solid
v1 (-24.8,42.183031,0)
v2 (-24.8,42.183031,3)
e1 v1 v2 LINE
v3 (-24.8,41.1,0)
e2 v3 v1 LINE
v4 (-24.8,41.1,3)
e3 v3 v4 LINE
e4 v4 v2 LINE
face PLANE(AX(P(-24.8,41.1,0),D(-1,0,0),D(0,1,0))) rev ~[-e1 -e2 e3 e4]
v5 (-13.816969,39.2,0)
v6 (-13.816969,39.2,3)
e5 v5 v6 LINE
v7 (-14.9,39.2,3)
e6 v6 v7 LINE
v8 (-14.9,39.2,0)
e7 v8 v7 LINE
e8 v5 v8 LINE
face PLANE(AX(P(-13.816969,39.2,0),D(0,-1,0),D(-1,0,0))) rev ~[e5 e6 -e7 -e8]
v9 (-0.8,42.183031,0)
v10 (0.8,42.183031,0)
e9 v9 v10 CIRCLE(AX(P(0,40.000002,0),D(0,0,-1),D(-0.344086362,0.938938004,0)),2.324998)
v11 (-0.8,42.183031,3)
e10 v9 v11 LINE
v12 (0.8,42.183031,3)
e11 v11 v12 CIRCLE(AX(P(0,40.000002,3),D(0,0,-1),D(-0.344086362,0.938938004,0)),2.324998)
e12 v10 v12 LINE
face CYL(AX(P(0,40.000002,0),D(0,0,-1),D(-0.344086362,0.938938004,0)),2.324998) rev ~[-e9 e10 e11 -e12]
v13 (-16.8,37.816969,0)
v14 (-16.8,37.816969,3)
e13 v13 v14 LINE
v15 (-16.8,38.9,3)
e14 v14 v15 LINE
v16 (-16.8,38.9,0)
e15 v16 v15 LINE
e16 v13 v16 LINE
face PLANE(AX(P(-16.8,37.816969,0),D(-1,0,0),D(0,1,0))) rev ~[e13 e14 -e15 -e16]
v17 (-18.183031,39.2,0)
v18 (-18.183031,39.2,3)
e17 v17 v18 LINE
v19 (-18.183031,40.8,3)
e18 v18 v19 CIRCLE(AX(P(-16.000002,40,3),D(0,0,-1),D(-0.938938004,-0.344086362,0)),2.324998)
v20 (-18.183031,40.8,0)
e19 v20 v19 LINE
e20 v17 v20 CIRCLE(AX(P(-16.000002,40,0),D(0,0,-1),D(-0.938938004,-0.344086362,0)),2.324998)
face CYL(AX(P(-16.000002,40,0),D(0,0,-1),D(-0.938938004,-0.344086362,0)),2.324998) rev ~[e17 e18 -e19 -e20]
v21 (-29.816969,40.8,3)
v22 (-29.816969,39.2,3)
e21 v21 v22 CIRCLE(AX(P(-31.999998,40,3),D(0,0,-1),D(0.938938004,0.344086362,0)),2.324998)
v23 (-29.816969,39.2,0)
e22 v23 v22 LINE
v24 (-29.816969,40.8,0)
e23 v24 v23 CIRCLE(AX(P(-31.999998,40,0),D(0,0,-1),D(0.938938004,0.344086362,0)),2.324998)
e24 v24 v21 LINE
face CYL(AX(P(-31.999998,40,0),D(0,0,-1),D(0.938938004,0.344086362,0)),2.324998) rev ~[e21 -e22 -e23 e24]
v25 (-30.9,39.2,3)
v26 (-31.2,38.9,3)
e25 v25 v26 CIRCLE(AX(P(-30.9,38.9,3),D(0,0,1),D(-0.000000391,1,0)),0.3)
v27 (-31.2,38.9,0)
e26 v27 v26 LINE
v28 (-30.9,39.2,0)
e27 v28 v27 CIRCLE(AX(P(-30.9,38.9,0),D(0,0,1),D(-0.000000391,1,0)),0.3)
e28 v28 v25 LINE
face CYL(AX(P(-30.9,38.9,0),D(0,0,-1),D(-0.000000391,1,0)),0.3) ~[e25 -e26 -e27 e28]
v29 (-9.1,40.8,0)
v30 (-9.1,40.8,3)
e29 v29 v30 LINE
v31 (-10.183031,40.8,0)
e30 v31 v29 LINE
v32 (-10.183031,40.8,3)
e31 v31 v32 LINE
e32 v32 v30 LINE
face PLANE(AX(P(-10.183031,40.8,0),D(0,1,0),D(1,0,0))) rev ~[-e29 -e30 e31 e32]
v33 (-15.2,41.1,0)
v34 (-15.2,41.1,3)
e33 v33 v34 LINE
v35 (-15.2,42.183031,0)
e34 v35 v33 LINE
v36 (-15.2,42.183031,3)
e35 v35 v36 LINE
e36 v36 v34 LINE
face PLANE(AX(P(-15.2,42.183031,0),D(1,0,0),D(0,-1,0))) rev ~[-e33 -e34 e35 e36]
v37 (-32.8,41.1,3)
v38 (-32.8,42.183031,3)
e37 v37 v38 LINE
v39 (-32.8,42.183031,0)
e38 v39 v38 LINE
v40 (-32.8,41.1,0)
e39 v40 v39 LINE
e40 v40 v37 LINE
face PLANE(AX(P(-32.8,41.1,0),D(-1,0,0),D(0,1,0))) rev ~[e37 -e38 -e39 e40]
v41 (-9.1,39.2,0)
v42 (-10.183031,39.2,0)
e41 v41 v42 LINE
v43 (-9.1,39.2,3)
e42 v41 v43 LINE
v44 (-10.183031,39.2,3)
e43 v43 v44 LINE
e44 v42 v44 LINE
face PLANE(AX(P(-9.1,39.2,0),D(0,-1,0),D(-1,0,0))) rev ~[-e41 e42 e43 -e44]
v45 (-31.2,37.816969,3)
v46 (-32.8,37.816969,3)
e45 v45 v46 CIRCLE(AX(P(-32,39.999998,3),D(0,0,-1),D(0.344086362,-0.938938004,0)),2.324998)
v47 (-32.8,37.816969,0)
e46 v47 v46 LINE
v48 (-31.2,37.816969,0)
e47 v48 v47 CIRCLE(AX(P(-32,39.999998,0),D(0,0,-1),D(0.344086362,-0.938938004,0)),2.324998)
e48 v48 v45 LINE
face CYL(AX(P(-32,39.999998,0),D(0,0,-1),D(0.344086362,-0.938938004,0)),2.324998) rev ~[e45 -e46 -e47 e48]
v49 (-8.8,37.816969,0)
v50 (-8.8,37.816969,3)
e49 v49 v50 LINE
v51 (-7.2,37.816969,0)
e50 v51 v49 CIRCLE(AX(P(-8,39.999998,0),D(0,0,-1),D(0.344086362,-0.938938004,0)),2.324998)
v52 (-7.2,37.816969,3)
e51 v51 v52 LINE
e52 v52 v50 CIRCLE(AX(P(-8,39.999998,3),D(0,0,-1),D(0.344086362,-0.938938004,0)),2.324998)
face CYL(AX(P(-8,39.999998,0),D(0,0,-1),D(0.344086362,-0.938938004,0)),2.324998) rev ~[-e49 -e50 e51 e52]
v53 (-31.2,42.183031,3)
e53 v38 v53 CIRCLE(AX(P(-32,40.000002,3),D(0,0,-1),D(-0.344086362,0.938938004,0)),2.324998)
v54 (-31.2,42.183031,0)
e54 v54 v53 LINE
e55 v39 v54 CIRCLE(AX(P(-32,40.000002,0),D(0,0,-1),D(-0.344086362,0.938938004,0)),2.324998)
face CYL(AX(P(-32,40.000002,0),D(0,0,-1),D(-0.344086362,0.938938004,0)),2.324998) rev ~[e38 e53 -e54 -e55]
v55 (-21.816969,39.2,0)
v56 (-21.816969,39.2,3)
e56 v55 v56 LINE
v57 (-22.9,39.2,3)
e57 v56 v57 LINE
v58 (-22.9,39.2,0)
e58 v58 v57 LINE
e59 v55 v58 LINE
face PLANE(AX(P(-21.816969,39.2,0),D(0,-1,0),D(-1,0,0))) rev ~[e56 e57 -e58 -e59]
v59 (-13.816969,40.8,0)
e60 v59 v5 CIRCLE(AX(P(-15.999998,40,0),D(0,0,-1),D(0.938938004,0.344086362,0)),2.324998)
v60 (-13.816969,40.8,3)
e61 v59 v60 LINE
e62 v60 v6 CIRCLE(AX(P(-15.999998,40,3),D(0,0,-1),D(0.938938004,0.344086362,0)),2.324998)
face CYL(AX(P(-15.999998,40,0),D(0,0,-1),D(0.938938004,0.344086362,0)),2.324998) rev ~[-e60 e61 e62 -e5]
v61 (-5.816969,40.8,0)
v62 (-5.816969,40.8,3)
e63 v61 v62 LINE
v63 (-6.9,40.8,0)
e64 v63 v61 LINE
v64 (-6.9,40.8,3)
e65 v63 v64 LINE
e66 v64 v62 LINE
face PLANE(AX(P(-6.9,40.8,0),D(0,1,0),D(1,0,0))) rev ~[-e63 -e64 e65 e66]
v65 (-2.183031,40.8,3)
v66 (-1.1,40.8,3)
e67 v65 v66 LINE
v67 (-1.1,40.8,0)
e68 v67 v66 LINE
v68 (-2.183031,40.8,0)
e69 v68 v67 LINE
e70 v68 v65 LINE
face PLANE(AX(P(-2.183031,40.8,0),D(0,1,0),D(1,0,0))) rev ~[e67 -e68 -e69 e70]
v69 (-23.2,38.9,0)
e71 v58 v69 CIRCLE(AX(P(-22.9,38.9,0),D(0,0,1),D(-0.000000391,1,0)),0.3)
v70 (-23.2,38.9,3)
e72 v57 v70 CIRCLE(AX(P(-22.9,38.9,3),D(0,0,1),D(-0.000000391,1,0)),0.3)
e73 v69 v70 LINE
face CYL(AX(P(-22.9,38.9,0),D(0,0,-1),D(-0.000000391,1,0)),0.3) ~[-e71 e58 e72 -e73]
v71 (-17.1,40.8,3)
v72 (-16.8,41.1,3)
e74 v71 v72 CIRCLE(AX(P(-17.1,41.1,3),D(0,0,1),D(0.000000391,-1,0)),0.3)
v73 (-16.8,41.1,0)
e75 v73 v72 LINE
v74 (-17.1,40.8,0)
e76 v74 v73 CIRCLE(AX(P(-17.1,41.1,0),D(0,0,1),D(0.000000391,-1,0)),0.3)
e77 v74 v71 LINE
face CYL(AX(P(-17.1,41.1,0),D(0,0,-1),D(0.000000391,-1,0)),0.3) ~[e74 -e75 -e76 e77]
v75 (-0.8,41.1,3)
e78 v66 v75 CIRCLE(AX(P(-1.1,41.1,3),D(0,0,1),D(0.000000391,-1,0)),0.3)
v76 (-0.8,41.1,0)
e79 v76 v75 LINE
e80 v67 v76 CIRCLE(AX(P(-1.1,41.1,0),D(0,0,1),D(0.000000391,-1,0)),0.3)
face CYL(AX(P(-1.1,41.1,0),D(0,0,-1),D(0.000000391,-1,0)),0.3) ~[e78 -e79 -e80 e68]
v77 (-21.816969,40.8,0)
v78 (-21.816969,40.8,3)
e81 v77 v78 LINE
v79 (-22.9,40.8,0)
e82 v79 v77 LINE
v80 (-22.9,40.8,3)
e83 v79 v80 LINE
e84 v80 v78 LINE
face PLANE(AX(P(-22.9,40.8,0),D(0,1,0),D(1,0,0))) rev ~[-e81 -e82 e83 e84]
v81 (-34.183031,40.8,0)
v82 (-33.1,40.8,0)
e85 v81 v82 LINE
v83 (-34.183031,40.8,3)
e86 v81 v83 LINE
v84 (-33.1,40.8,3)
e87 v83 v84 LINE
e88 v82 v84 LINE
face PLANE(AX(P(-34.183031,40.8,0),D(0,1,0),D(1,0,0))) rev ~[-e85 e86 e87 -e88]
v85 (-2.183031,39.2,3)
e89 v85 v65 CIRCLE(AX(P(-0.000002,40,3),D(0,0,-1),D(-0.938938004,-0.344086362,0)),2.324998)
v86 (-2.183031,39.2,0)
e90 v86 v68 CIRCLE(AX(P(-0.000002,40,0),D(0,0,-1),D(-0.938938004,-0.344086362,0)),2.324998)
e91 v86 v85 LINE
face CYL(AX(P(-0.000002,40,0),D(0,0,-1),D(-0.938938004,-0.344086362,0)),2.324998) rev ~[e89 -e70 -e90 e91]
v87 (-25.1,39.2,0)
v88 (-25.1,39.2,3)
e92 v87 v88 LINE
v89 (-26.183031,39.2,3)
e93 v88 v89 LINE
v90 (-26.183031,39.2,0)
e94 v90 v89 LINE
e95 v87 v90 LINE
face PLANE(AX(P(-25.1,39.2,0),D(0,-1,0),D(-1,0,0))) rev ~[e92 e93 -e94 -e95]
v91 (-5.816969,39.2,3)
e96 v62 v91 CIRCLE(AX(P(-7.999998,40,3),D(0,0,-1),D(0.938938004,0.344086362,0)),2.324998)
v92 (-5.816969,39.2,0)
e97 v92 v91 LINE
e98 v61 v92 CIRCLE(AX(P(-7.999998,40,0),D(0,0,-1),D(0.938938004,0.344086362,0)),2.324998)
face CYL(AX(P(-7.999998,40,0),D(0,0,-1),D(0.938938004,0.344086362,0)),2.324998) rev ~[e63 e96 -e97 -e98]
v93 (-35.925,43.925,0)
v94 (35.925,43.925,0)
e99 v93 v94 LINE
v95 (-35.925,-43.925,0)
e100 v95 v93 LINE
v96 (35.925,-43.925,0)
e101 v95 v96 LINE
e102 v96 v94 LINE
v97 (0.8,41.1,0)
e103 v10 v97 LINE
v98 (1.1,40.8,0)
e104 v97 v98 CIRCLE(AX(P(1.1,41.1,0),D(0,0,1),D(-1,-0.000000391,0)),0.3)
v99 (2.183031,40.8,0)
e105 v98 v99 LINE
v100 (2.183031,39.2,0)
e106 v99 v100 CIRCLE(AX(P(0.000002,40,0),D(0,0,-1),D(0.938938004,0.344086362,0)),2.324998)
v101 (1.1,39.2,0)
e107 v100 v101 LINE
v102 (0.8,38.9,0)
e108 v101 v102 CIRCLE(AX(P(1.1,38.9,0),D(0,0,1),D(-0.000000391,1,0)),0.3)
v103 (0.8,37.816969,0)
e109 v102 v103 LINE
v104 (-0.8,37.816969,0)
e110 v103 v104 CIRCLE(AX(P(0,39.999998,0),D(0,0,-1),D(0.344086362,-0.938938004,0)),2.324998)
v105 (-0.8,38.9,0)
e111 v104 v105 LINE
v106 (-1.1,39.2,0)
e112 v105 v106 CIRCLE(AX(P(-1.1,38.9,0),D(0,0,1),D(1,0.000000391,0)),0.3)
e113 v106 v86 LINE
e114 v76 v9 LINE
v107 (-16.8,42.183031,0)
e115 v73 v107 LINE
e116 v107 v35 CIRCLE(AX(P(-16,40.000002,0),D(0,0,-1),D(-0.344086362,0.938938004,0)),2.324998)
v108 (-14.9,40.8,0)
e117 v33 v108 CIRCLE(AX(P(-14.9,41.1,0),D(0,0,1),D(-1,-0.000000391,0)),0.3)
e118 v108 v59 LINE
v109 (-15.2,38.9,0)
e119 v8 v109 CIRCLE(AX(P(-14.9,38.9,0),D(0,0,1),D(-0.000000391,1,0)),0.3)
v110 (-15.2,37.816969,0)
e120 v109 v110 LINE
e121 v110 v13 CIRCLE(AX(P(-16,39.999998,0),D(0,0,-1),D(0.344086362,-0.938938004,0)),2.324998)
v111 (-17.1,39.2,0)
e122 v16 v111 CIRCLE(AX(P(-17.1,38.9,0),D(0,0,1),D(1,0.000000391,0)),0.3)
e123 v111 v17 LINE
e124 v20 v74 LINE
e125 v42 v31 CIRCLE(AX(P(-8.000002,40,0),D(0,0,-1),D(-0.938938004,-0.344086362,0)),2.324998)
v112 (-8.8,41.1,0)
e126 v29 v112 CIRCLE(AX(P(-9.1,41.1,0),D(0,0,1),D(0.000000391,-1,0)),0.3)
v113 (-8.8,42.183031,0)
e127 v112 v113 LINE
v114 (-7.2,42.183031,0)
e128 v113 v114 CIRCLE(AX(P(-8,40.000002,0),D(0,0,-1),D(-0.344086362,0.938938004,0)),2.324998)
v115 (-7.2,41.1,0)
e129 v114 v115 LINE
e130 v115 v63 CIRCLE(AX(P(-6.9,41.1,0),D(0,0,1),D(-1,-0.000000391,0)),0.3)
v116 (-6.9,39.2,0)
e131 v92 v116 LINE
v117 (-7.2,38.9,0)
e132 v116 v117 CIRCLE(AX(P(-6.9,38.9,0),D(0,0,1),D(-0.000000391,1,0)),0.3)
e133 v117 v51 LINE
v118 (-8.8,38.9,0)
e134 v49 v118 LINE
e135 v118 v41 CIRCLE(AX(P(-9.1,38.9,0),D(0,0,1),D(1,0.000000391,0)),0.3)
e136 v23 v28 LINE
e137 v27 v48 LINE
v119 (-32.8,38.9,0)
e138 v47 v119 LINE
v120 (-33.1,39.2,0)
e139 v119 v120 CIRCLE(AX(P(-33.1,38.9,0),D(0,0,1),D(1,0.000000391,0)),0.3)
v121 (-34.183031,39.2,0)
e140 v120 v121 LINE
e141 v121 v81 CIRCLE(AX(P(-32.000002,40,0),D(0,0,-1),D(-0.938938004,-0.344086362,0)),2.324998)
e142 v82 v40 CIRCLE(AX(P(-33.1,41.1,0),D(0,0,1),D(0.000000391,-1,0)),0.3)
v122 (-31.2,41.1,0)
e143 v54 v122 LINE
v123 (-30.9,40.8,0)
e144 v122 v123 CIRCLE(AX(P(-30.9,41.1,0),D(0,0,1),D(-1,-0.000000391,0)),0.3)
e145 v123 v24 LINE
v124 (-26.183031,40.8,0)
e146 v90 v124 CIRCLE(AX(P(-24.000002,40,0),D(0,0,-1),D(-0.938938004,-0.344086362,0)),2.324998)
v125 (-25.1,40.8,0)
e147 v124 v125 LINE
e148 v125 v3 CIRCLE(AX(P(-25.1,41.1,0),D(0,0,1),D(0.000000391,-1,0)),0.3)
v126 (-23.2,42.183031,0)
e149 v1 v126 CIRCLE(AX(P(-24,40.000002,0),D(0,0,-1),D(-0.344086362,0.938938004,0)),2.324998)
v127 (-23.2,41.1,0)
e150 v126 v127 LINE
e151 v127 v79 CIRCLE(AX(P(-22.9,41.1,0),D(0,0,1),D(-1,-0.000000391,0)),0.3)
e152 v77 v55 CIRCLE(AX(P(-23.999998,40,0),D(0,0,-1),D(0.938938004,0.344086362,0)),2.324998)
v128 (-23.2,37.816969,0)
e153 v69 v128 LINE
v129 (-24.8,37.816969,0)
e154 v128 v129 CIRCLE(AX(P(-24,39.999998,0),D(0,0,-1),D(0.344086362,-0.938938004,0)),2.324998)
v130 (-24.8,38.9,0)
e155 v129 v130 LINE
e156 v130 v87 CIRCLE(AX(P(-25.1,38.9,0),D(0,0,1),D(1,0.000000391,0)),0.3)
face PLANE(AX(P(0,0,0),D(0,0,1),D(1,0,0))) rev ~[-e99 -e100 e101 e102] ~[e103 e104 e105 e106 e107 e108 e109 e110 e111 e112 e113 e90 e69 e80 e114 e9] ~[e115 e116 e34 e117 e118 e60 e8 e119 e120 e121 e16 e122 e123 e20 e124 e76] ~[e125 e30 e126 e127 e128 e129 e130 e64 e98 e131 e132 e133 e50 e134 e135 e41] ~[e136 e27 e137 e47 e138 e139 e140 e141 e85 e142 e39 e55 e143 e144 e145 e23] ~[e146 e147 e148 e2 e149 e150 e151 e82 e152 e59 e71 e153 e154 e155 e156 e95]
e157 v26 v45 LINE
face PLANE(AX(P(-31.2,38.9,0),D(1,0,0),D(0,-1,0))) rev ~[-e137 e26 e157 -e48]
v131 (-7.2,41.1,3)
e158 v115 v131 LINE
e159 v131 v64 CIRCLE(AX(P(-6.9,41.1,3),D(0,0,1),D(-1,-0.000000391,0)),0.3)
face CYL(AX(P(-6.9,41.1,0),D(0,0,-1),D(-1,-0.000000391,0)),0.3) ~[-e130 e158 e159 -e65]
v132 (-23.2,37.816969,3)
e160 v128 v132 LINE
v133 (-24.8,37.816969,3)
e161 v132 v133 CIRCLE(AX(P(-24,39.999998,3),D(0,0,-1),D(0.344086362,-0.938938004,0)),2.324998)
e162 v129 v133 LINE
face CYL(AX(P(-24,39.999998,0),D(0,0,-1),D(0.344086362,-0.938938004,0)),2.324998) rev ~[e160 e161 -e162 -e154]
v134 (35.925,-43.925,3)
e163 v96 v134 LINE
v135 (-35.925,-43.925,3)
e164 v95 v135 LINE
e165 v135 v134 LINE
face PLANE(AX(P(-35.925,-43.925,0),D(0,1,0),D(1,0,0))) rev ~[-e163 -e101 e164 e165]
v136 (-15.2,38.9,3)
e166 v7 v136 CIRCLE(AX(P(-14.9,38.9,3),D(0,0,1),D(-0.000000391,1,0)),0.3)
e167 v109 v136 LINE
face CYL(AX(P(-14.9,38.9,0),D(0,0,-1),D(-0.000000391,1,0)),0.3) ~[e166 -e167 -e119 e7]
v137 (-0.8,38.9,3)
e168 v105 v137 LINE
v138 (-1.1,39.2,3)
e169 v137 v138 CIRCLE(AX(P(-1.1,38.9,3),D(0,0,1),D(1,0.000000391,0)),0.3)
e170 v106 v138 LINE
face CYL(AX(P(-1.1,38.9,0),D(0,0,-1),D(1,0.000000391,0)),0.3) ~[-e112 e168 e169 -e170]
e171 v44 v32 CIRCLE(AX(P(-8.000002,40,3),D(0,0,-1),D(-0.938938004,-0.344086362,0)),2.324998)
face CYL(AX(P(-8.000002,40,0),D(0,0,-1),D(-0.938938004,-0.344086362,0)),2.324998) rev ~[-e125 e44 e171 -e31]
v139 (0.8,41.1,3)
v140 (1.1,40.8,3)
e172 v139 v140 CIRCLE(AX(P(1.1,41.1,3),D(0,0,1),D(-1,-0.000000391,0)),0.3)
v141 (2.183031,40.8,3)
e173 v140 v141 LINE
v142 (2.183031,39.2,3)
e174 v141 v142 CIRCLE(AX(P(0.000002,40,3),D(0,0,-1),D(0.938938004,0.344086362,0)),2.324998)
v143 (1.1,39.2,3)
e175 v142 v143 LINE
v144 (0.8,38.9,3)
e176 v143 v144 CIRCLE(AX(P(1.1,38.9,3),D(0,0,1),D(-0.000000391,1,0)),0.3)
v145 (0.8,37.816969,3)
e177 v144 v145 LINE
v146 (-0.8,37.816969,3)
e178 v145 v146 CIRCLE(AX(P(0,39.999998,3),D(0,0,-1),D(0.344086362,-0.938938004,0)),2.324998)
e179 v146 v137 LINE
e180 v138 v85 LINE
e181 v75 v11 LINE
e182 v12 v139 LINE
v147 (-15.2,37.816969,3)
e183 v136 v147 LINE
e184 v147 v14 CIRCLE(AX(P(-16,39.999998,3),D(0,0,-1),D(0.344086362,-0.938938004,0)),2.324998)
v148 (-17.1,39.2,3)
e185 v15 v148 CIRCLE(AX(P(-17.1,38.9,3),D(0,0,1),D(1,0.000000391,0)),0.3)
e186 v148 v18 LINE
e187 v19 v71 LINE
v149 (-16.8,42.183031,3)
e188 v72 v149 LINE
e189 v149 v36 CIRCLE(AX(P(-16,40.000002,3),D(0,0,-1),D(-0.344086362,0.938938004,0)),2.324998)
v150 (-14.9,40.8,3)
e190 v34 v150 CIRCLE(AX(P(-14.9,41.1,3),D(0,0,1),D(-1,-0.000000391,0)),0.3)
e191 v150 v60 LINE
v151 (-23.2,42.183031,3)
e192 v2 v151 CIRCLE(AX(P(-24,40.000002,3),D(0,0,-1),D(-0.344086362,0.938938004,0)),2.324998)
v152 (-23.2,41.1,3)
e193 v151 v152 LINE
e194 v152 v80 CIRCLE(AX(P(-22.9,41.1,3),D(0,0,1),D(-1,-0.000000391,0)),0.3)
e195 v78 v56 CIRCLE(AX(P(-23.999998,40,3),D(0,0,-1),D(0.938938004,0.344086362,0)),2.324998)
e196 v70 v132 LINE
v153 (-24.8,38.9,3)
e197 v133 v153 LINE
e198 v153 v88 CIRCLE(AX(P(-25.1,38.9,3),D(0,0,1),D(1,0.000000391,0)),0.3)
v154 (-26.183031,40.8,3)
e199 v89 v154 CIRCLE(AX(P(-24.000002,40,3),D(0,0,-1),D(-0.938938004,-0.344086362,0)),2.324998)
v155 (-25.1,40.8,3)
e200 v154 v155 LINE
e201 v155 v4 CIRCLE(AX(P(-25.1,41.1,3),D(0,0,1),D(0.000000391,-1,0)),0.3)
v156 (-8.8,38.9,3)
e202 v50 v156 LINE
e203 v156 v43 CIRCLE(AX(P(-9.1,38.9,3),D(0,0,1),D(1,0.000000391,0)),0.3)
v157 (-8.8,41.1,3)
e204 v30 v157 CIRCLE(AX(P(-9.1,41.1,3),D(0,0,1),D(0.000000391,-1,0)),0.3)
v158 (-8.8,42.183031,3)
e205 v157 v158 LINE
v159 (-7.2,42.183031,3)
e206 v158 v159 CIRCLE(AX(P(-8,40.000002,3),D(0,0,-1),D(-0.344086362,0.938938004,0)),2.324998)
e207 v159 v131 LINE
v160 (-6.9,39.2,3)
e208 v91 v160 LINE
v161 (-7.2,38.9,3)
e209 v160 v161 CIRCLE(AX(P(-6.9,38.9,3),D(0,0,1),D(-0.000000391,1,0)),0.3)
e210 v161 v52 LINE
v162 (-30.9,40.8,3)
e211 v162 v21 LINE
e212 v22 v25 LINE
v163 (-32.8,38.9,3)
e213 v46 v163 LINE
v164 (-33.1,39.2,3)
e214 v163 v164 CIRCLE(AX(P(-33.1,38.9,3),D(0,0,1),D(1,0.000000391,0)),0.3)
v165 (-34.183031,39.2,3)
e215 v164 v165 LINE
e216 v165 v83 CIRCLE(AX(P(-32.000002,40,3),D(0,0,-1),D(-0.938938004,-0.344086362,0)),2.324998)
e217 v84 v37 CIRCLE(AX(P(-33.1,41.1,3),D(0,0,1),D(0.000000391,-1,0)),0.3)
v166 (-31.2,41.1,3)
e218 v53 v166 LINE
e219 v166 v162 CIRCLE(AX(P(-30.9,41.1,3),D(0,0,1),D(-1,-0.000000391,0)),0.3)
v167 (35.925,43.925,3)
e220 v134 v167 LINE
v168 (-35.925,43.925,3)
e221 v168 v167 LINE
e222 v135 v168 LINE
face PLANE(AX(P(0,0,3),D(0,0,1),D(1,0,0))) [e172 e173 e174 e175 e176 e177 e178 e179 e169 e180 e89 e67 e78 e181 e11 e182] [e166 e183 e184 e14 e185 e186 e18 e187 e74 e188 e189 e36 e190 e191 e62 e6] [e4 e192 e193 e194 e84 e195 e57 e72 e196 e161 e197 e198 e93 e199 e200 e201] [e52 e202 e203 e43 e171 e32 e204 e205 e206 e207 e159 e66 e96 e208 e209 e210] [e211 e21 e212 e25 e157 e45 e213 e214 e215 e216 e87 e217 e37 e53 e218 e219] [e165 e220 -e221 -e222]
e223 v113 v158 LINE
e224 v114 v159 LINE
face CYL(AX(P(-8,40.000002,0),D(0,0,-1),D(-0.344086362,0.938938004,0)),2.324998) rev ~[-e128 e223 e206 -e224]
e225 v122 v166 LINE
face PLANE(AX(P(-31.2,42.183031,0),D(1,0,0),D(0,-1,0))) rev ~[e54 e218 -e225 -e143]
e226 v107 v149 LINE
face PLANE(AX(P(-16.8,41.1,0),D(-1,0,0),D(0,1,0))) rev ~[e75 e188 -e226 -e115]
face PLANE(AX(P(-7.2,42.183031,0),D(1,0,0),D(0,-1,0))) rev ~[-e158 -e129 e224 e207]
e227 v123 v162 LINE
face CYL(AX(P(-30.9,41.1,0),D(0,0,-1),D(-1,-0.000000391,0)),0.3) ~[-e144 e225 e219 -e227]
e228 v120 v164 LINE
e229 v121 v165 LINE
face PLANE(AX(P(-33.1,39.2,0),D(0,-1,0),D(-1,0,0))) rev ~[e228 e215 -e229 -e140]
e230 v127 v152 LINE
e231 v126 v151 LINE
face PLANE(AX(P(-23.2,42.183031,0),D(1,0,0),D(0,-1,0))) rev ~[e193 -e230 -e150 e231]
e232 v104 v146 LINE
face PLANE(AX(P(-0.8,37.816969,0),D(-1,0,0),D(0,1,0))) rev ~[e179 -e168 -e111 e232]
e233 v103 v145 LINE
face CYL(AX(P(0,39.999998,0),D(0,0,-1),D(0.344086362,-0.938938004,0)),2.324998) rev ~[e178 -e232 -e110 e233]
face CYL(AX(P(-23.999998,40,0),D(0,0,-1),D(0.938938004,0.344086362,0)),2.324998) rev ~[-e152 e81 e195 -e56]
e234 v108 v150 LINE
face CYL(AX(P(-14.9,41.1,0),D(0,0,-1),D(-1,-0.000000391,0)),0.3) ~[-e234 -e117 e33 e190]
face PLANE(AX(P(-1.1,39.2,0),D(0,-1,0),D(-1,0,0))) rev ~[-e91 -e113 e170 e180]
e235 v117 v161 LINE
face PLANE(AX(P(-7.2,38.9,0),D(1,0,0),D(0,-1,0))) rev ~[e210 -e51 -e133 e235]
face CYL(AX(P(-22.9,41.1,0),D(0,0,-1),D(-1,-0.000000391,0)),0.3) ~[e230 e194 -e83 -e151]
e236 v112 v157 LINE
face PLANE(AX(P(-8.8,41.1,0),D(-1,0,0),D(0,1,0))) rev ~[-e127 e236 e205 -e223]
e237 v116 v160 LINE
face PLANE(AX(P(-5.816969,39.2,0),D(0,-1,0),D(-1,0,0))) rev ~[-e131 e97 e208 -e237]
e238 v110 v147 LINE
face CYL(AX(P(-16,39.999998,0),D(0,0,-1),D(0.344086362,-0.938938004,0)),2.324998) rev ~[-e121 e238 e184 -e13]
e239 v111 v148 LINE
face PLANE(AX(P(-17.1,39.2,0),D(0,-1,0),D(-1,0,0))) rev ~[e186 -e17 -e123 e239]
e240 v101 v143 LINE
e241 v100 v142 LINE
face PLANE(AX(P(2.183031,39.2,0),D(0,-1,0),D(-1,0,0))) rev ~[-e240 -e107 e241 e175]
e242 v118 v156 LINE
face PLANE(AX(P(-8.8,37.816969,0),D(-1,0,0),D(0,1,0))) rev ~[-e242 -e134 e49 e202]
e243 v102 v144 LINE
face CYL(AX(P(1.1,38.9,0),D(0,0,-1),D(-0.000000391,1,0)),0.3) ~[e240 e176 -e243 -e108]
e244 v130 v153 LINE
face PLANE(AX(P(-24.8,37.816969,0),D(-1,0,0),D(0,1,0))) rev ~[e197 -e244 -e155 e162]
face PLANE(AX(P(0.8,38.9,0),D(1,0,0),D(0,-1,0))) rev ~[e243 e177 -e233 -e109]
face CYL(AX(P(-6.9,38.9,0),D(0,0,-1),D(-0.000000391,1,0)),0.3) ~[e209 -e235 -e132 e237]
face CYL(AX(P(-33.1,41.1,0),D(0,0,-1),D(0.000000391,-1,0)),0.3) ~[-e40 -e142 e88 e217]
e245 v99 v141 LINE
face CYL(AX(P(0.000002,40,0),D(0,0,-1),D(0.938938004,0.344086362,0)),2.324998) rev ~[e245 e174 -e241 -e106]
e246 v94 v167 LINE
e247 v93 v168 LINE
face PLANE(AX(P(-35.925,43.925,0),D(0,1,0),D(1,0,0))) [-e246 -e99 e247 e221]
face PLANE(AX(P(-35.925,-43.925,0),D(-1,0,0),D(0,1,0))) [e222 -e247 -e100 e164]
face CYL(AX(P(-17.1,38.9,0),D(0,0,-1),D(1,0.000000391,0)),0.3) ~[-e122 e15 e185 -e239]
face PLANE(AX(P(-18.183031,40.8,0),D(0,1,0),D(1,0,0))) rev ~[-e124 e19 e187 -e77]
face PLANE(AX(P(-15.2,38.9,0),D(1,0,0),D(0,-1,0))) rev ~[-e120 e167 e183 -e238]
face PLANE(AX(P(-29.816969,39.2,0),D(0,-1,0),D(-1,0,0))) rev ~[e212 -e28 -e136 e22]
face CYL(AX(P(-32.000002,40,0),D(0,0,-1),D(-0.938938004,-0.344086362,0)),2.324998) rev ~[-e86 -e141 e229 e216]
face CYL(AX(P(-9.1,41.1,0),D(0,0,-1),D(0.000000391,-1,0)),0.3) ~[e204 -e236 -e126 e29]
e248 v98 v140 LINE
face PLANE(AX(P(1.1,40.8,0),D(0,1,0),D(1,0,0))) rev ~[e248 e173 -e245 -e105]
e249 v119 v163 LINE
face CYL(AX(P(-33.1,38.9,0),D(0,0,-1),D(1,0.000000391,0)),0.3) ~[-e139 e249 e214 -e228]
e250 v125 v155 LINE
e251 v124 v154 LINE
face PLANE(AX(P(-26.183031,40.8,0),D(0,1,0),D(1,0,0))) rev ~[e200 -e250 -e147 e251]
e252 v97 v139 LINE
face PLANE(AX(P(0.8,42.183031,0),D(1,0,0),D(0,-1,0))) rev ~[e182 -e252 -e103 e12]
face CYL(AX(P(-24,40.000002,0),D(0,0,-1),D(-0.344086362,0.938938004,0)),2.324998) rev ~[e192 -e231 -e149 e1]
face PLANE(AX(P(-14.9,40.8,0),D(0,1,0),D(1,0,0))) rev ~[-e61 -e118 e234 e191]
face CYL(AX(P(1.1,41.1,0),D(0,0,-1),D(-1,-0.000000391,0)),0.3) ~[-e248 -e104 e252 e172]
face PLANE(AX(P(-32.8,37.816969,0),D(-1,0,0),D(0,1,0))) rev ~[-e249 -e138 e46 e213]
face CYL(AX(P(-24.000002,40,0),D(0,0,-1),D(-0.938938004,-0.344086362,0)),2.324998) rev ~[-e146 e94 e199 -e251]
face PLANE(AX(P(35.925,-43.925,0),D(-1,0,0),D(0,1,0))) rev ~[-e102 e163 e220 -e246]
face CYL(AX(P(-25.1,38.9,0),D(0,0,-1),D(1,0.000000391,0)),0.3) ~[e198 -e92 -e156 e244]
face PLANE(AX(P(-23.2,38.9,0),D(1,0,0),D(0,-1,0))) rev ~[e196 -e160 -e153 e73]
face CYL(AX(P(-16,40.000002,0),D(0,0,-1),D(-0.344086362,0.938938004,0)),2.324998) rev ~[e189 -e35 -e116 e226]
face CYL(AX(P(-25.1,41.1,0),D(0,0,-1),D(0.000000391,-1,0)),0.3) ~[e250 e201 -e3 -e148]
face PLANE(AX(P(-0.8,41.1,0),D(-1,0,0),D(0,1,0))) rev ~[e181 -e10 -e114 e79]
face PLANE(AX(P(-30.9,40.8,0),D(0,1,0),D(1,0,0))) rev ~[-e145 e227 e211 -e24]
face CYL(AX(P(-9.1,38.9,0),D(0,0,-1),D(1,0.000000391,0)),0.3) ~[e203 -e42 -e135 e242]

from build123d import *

# Parameters (mm, degrees)
F0_W     = 71.85
F0_H     = 87.85
F1_DEPTH = 3


with BuildPart() as f1:
    # F0 (on Top) → F1 (new body)
    with BuildSketch(Plane.XY):
        Rectangle(F0_W, F0_H)
        with BuildLine():
            ThreePointArc((-32.8, 42.183031), (-32, 42.325), (-31.2, 42.183031))
            Line((-31.2, 42.183031), (-31.2, 41.1))
            ThreePointArc((-31.2, 41.1), (-31.112132, 40.887868), (-30.9, 40.8))
            Line((-30.9, 40.8), (-29.816969, 40.8))
            ThreePointArc((-29.816969, 40.8), (-29.675, 40), (-29.816969, 39.2))
            Line((-29.816969, 39.2), (-30.9, 39.2))
            ThreePointArc((-30.9, 39.2), (-31.112132, 39.112132), (-31.2, 38.9))
            Line((-31.2, 38.9), (-31.2, 37.816969))
            ThreePointArc((-31.2, 37.816969), (-32, 37.675), (-32.8, 37.816969))
            Line((-32.8, 37.816969), (-32.8, 38.9))
            ThreePointArc((-32.8, 38.9), (-32.887868, 39.112132), (-33.1, 39.2))
            Line((-33.1, 39.2), (-34.183031, 39.2))
            ThreePointArc((-34.183031, 39.2), (-34.325, 40), (-34.183031, 40.8))
            Line((-34.183031, 40.8), (-33.1, 40.8))
            ThreePointArc((-33.1, 40.8), (-32.887868, 40.887868), (-32.8, 41.1))
            Line((-32.8, 41.1), (-32.8, 42.183031))
        make_face(mode=Mode.SUBTRACT)
        with BuildLine():
            ThreePointArc((-24.8, 42.183031), (-24, 42.325), (-23.2, 42.183031))
            Line((-23.2, 42.183031), (-23.2, 41.1))
            ThreePointArc((-23.2, 41.1), (-23.112132, 40.887868), (-22.9, 40.8))
            Line((-22.9, 40.8), (-21.816969, 40.8))
            ThreePointArc((-21.816969, 40.8), (-21.675, 40), (-21.816969, 39.2))
            Line((-21.816969, 39.2), (-22.9, 39.2))
            ThreePointArc((-22.9, 39.2), (-23.112132, 39.112132), (-23.2, 38.9))
            Line((-23.2, 38.9), (-23.2, 37.816969))
            ThreePointArc((-23.2, 37.816969), (-24, 37.675), (-24.8, 37.816969))
            Line((-24.8, 37.816969), (-24.8, 38.9))
            ThreePointArc((-24.8, 38.9), (-24.887868, 39.112132), (-25.1, 39.2))
            Line((-25.1, 39.2), (-26.183031, 39.2))
            ThreePointArc((-26.183031, 39.2), (-26.325, 40), (-26.183031, 40.8))
            Line((-26.183031, 40.8), (-25.1, 40.8))
            ThreePointArc((-25.1, 40.8), (-24.887868, 40.887868), (-24.8, 41.1))
            Line((-24.8, 41.1), (-24.8, 42.183031))
        make_face(mode=Mode.SUBTRACT)
        with BuildLine():
            ThreePointArc((-16.8, 42.183031), (-16, 42.325), (-15.2, 42.183031))
            Line((-15.2, 42.183031), (-15.2, 41.1))
            ThreePointArc((-15.2, 41.1), (-15.112132, 40.887868), (-14.9, 40.8))
            Line((-14.9, 40.8), (-13.816969, 40.8))
            ThreePointArc((-13.816969, 40.8), (-13.675, 40), (-13.816969, 39.2))
            Line((-13.816969, 39.2), (-14.9, 39.2))
            ThreePointArc((-14.9, 39.2), (-15.112132, 39.112132), (-15.2, 38.9))
            Line((-15.2, 38.9), (-15.2, 37.816969))
            ThreePointArc((-15.2, 37.816969), (-16, 37.675), (-16.8, 37.816969))
            Line((-16.8, 37.816969), (-16.8, 38.9))
            ThreePointArc((-16.8, 38.9), (-16.887868, 39.112132), (-17.1, 39.2))
            Line((-17.1, 39.2), (-18.183031, 39.2))
            ThreePointArc((-18.183031, 39.2), (-18.325, 40), (-18.183031, 40.8))
            Line((-18.183031, 40.8), (-17.1, 40.8))
            ThreePointArc((-17.1, 40.8), (-16.887868, 40.887868), (-16.8, 41.1))
            Line((-16.8, 41.1), (-16.8, 42.183031))
        make_face(mode=Mode.SUBTRACT)
        with BuildLine():
            ThreePointArc((-8.8, 42.183031), (-8, 42.325), (-7.2, 42.183031))
            Line((-7.2, 42.183031), (-7.2, 41.1))
            ThreePointArc((-7.2, 41.1), (-7.112132, 40.887868), (-6.9, 40.8))
            Line((-6.9, 40.8), (-5.816969, 40.8))
            ThreePointArc((-5.816969, 40.8), (-5.675, 40), (-5.816969, 39.2))
            Line((-5.816969, 39.2), (-6.9, 39.2))
            ThreePointArc((-6.9, 39.2), (-7.112132, 39.112132), (-7.2, 38.9))
            Line((-7.2, 38.9), (-7.2, 37.816969))
            ThreePointArc((-7.2, 37.816969), (-8, 37.675), (-8.8, 37.816969))
            Line((-8.8, 37.816969), (-8.8, 38.9))
            ThreePointArc((-8.8, 38.9), (-8.887868, 39.112132), (-9.1, 39.2))
            Line((-9.1, 39.2), (-10.183031, 39.2))
            ThreePointArc((-10.183031, 39.2), (-10.325, 40), (-10.183031, 40.8))
            Line((-10.183031, 40.8), (-9.1, 40.8))
            ThreePointArc((-9.1, 40.8), (-8.887868, 40.887868), (-8.8, 41.1))
            Line((-8.8, 41.1), (-8.8, 42.183031))
        make_face(mode=Mode.SUBTRACT)
        with BuildLine():
            ThreePointArc((-0.8, 42.183031), (0, 42.325), (0.8, 42.183031))
            Line((0.8, 42.183031), (0.8, 41.1))
            ThreePointArc((0.8, 41.1), (0.887868, 40.887868), (1.1, 40.8))
            Line((1.1, 40.8), (2.183031, 40.8))
            ThreePointArc((2.183031, 40.8), (2.325, 40), (2.183031, 39.2))
            Line((2.183031, 39.2), (1.1, 39.2))
            ThreePointArc((1.1, 39.2), (0.887868, 39.112132), (0.8, 38.9))
            Line((0.8, 38.9), (0.8, 37.816969))
            ThreePointArc((0.8, 37.816969), (0, 37.675), (-0.8, 37.816969))
            Line((-0.8, 37.816969), (-0.8, 38.9))
            ThreePointArc((-0.8, 38.9), (-0.887868, 39.112132), (-1.1, 39.2))
            Line((-1.1, 39.2), (-2.183031, 39.2))
            ThreePointArc((-2.183031, 39.2), (-2.325, 40), (-2.183031, 40.8))
            Line((-2.183031, 40.8), (-1.1, 40.8))
            ThreePointArc((-1.1, 40.8), (-0.887868, 40.887868), (-0.8, 41.1))
            Line((-0.8, 41.1), (-0.8, 42.183031))
        make_face(mode=Mode.SUBTRACT)
    extrude(amount=F1_DEPTH)


solid = f1.part
